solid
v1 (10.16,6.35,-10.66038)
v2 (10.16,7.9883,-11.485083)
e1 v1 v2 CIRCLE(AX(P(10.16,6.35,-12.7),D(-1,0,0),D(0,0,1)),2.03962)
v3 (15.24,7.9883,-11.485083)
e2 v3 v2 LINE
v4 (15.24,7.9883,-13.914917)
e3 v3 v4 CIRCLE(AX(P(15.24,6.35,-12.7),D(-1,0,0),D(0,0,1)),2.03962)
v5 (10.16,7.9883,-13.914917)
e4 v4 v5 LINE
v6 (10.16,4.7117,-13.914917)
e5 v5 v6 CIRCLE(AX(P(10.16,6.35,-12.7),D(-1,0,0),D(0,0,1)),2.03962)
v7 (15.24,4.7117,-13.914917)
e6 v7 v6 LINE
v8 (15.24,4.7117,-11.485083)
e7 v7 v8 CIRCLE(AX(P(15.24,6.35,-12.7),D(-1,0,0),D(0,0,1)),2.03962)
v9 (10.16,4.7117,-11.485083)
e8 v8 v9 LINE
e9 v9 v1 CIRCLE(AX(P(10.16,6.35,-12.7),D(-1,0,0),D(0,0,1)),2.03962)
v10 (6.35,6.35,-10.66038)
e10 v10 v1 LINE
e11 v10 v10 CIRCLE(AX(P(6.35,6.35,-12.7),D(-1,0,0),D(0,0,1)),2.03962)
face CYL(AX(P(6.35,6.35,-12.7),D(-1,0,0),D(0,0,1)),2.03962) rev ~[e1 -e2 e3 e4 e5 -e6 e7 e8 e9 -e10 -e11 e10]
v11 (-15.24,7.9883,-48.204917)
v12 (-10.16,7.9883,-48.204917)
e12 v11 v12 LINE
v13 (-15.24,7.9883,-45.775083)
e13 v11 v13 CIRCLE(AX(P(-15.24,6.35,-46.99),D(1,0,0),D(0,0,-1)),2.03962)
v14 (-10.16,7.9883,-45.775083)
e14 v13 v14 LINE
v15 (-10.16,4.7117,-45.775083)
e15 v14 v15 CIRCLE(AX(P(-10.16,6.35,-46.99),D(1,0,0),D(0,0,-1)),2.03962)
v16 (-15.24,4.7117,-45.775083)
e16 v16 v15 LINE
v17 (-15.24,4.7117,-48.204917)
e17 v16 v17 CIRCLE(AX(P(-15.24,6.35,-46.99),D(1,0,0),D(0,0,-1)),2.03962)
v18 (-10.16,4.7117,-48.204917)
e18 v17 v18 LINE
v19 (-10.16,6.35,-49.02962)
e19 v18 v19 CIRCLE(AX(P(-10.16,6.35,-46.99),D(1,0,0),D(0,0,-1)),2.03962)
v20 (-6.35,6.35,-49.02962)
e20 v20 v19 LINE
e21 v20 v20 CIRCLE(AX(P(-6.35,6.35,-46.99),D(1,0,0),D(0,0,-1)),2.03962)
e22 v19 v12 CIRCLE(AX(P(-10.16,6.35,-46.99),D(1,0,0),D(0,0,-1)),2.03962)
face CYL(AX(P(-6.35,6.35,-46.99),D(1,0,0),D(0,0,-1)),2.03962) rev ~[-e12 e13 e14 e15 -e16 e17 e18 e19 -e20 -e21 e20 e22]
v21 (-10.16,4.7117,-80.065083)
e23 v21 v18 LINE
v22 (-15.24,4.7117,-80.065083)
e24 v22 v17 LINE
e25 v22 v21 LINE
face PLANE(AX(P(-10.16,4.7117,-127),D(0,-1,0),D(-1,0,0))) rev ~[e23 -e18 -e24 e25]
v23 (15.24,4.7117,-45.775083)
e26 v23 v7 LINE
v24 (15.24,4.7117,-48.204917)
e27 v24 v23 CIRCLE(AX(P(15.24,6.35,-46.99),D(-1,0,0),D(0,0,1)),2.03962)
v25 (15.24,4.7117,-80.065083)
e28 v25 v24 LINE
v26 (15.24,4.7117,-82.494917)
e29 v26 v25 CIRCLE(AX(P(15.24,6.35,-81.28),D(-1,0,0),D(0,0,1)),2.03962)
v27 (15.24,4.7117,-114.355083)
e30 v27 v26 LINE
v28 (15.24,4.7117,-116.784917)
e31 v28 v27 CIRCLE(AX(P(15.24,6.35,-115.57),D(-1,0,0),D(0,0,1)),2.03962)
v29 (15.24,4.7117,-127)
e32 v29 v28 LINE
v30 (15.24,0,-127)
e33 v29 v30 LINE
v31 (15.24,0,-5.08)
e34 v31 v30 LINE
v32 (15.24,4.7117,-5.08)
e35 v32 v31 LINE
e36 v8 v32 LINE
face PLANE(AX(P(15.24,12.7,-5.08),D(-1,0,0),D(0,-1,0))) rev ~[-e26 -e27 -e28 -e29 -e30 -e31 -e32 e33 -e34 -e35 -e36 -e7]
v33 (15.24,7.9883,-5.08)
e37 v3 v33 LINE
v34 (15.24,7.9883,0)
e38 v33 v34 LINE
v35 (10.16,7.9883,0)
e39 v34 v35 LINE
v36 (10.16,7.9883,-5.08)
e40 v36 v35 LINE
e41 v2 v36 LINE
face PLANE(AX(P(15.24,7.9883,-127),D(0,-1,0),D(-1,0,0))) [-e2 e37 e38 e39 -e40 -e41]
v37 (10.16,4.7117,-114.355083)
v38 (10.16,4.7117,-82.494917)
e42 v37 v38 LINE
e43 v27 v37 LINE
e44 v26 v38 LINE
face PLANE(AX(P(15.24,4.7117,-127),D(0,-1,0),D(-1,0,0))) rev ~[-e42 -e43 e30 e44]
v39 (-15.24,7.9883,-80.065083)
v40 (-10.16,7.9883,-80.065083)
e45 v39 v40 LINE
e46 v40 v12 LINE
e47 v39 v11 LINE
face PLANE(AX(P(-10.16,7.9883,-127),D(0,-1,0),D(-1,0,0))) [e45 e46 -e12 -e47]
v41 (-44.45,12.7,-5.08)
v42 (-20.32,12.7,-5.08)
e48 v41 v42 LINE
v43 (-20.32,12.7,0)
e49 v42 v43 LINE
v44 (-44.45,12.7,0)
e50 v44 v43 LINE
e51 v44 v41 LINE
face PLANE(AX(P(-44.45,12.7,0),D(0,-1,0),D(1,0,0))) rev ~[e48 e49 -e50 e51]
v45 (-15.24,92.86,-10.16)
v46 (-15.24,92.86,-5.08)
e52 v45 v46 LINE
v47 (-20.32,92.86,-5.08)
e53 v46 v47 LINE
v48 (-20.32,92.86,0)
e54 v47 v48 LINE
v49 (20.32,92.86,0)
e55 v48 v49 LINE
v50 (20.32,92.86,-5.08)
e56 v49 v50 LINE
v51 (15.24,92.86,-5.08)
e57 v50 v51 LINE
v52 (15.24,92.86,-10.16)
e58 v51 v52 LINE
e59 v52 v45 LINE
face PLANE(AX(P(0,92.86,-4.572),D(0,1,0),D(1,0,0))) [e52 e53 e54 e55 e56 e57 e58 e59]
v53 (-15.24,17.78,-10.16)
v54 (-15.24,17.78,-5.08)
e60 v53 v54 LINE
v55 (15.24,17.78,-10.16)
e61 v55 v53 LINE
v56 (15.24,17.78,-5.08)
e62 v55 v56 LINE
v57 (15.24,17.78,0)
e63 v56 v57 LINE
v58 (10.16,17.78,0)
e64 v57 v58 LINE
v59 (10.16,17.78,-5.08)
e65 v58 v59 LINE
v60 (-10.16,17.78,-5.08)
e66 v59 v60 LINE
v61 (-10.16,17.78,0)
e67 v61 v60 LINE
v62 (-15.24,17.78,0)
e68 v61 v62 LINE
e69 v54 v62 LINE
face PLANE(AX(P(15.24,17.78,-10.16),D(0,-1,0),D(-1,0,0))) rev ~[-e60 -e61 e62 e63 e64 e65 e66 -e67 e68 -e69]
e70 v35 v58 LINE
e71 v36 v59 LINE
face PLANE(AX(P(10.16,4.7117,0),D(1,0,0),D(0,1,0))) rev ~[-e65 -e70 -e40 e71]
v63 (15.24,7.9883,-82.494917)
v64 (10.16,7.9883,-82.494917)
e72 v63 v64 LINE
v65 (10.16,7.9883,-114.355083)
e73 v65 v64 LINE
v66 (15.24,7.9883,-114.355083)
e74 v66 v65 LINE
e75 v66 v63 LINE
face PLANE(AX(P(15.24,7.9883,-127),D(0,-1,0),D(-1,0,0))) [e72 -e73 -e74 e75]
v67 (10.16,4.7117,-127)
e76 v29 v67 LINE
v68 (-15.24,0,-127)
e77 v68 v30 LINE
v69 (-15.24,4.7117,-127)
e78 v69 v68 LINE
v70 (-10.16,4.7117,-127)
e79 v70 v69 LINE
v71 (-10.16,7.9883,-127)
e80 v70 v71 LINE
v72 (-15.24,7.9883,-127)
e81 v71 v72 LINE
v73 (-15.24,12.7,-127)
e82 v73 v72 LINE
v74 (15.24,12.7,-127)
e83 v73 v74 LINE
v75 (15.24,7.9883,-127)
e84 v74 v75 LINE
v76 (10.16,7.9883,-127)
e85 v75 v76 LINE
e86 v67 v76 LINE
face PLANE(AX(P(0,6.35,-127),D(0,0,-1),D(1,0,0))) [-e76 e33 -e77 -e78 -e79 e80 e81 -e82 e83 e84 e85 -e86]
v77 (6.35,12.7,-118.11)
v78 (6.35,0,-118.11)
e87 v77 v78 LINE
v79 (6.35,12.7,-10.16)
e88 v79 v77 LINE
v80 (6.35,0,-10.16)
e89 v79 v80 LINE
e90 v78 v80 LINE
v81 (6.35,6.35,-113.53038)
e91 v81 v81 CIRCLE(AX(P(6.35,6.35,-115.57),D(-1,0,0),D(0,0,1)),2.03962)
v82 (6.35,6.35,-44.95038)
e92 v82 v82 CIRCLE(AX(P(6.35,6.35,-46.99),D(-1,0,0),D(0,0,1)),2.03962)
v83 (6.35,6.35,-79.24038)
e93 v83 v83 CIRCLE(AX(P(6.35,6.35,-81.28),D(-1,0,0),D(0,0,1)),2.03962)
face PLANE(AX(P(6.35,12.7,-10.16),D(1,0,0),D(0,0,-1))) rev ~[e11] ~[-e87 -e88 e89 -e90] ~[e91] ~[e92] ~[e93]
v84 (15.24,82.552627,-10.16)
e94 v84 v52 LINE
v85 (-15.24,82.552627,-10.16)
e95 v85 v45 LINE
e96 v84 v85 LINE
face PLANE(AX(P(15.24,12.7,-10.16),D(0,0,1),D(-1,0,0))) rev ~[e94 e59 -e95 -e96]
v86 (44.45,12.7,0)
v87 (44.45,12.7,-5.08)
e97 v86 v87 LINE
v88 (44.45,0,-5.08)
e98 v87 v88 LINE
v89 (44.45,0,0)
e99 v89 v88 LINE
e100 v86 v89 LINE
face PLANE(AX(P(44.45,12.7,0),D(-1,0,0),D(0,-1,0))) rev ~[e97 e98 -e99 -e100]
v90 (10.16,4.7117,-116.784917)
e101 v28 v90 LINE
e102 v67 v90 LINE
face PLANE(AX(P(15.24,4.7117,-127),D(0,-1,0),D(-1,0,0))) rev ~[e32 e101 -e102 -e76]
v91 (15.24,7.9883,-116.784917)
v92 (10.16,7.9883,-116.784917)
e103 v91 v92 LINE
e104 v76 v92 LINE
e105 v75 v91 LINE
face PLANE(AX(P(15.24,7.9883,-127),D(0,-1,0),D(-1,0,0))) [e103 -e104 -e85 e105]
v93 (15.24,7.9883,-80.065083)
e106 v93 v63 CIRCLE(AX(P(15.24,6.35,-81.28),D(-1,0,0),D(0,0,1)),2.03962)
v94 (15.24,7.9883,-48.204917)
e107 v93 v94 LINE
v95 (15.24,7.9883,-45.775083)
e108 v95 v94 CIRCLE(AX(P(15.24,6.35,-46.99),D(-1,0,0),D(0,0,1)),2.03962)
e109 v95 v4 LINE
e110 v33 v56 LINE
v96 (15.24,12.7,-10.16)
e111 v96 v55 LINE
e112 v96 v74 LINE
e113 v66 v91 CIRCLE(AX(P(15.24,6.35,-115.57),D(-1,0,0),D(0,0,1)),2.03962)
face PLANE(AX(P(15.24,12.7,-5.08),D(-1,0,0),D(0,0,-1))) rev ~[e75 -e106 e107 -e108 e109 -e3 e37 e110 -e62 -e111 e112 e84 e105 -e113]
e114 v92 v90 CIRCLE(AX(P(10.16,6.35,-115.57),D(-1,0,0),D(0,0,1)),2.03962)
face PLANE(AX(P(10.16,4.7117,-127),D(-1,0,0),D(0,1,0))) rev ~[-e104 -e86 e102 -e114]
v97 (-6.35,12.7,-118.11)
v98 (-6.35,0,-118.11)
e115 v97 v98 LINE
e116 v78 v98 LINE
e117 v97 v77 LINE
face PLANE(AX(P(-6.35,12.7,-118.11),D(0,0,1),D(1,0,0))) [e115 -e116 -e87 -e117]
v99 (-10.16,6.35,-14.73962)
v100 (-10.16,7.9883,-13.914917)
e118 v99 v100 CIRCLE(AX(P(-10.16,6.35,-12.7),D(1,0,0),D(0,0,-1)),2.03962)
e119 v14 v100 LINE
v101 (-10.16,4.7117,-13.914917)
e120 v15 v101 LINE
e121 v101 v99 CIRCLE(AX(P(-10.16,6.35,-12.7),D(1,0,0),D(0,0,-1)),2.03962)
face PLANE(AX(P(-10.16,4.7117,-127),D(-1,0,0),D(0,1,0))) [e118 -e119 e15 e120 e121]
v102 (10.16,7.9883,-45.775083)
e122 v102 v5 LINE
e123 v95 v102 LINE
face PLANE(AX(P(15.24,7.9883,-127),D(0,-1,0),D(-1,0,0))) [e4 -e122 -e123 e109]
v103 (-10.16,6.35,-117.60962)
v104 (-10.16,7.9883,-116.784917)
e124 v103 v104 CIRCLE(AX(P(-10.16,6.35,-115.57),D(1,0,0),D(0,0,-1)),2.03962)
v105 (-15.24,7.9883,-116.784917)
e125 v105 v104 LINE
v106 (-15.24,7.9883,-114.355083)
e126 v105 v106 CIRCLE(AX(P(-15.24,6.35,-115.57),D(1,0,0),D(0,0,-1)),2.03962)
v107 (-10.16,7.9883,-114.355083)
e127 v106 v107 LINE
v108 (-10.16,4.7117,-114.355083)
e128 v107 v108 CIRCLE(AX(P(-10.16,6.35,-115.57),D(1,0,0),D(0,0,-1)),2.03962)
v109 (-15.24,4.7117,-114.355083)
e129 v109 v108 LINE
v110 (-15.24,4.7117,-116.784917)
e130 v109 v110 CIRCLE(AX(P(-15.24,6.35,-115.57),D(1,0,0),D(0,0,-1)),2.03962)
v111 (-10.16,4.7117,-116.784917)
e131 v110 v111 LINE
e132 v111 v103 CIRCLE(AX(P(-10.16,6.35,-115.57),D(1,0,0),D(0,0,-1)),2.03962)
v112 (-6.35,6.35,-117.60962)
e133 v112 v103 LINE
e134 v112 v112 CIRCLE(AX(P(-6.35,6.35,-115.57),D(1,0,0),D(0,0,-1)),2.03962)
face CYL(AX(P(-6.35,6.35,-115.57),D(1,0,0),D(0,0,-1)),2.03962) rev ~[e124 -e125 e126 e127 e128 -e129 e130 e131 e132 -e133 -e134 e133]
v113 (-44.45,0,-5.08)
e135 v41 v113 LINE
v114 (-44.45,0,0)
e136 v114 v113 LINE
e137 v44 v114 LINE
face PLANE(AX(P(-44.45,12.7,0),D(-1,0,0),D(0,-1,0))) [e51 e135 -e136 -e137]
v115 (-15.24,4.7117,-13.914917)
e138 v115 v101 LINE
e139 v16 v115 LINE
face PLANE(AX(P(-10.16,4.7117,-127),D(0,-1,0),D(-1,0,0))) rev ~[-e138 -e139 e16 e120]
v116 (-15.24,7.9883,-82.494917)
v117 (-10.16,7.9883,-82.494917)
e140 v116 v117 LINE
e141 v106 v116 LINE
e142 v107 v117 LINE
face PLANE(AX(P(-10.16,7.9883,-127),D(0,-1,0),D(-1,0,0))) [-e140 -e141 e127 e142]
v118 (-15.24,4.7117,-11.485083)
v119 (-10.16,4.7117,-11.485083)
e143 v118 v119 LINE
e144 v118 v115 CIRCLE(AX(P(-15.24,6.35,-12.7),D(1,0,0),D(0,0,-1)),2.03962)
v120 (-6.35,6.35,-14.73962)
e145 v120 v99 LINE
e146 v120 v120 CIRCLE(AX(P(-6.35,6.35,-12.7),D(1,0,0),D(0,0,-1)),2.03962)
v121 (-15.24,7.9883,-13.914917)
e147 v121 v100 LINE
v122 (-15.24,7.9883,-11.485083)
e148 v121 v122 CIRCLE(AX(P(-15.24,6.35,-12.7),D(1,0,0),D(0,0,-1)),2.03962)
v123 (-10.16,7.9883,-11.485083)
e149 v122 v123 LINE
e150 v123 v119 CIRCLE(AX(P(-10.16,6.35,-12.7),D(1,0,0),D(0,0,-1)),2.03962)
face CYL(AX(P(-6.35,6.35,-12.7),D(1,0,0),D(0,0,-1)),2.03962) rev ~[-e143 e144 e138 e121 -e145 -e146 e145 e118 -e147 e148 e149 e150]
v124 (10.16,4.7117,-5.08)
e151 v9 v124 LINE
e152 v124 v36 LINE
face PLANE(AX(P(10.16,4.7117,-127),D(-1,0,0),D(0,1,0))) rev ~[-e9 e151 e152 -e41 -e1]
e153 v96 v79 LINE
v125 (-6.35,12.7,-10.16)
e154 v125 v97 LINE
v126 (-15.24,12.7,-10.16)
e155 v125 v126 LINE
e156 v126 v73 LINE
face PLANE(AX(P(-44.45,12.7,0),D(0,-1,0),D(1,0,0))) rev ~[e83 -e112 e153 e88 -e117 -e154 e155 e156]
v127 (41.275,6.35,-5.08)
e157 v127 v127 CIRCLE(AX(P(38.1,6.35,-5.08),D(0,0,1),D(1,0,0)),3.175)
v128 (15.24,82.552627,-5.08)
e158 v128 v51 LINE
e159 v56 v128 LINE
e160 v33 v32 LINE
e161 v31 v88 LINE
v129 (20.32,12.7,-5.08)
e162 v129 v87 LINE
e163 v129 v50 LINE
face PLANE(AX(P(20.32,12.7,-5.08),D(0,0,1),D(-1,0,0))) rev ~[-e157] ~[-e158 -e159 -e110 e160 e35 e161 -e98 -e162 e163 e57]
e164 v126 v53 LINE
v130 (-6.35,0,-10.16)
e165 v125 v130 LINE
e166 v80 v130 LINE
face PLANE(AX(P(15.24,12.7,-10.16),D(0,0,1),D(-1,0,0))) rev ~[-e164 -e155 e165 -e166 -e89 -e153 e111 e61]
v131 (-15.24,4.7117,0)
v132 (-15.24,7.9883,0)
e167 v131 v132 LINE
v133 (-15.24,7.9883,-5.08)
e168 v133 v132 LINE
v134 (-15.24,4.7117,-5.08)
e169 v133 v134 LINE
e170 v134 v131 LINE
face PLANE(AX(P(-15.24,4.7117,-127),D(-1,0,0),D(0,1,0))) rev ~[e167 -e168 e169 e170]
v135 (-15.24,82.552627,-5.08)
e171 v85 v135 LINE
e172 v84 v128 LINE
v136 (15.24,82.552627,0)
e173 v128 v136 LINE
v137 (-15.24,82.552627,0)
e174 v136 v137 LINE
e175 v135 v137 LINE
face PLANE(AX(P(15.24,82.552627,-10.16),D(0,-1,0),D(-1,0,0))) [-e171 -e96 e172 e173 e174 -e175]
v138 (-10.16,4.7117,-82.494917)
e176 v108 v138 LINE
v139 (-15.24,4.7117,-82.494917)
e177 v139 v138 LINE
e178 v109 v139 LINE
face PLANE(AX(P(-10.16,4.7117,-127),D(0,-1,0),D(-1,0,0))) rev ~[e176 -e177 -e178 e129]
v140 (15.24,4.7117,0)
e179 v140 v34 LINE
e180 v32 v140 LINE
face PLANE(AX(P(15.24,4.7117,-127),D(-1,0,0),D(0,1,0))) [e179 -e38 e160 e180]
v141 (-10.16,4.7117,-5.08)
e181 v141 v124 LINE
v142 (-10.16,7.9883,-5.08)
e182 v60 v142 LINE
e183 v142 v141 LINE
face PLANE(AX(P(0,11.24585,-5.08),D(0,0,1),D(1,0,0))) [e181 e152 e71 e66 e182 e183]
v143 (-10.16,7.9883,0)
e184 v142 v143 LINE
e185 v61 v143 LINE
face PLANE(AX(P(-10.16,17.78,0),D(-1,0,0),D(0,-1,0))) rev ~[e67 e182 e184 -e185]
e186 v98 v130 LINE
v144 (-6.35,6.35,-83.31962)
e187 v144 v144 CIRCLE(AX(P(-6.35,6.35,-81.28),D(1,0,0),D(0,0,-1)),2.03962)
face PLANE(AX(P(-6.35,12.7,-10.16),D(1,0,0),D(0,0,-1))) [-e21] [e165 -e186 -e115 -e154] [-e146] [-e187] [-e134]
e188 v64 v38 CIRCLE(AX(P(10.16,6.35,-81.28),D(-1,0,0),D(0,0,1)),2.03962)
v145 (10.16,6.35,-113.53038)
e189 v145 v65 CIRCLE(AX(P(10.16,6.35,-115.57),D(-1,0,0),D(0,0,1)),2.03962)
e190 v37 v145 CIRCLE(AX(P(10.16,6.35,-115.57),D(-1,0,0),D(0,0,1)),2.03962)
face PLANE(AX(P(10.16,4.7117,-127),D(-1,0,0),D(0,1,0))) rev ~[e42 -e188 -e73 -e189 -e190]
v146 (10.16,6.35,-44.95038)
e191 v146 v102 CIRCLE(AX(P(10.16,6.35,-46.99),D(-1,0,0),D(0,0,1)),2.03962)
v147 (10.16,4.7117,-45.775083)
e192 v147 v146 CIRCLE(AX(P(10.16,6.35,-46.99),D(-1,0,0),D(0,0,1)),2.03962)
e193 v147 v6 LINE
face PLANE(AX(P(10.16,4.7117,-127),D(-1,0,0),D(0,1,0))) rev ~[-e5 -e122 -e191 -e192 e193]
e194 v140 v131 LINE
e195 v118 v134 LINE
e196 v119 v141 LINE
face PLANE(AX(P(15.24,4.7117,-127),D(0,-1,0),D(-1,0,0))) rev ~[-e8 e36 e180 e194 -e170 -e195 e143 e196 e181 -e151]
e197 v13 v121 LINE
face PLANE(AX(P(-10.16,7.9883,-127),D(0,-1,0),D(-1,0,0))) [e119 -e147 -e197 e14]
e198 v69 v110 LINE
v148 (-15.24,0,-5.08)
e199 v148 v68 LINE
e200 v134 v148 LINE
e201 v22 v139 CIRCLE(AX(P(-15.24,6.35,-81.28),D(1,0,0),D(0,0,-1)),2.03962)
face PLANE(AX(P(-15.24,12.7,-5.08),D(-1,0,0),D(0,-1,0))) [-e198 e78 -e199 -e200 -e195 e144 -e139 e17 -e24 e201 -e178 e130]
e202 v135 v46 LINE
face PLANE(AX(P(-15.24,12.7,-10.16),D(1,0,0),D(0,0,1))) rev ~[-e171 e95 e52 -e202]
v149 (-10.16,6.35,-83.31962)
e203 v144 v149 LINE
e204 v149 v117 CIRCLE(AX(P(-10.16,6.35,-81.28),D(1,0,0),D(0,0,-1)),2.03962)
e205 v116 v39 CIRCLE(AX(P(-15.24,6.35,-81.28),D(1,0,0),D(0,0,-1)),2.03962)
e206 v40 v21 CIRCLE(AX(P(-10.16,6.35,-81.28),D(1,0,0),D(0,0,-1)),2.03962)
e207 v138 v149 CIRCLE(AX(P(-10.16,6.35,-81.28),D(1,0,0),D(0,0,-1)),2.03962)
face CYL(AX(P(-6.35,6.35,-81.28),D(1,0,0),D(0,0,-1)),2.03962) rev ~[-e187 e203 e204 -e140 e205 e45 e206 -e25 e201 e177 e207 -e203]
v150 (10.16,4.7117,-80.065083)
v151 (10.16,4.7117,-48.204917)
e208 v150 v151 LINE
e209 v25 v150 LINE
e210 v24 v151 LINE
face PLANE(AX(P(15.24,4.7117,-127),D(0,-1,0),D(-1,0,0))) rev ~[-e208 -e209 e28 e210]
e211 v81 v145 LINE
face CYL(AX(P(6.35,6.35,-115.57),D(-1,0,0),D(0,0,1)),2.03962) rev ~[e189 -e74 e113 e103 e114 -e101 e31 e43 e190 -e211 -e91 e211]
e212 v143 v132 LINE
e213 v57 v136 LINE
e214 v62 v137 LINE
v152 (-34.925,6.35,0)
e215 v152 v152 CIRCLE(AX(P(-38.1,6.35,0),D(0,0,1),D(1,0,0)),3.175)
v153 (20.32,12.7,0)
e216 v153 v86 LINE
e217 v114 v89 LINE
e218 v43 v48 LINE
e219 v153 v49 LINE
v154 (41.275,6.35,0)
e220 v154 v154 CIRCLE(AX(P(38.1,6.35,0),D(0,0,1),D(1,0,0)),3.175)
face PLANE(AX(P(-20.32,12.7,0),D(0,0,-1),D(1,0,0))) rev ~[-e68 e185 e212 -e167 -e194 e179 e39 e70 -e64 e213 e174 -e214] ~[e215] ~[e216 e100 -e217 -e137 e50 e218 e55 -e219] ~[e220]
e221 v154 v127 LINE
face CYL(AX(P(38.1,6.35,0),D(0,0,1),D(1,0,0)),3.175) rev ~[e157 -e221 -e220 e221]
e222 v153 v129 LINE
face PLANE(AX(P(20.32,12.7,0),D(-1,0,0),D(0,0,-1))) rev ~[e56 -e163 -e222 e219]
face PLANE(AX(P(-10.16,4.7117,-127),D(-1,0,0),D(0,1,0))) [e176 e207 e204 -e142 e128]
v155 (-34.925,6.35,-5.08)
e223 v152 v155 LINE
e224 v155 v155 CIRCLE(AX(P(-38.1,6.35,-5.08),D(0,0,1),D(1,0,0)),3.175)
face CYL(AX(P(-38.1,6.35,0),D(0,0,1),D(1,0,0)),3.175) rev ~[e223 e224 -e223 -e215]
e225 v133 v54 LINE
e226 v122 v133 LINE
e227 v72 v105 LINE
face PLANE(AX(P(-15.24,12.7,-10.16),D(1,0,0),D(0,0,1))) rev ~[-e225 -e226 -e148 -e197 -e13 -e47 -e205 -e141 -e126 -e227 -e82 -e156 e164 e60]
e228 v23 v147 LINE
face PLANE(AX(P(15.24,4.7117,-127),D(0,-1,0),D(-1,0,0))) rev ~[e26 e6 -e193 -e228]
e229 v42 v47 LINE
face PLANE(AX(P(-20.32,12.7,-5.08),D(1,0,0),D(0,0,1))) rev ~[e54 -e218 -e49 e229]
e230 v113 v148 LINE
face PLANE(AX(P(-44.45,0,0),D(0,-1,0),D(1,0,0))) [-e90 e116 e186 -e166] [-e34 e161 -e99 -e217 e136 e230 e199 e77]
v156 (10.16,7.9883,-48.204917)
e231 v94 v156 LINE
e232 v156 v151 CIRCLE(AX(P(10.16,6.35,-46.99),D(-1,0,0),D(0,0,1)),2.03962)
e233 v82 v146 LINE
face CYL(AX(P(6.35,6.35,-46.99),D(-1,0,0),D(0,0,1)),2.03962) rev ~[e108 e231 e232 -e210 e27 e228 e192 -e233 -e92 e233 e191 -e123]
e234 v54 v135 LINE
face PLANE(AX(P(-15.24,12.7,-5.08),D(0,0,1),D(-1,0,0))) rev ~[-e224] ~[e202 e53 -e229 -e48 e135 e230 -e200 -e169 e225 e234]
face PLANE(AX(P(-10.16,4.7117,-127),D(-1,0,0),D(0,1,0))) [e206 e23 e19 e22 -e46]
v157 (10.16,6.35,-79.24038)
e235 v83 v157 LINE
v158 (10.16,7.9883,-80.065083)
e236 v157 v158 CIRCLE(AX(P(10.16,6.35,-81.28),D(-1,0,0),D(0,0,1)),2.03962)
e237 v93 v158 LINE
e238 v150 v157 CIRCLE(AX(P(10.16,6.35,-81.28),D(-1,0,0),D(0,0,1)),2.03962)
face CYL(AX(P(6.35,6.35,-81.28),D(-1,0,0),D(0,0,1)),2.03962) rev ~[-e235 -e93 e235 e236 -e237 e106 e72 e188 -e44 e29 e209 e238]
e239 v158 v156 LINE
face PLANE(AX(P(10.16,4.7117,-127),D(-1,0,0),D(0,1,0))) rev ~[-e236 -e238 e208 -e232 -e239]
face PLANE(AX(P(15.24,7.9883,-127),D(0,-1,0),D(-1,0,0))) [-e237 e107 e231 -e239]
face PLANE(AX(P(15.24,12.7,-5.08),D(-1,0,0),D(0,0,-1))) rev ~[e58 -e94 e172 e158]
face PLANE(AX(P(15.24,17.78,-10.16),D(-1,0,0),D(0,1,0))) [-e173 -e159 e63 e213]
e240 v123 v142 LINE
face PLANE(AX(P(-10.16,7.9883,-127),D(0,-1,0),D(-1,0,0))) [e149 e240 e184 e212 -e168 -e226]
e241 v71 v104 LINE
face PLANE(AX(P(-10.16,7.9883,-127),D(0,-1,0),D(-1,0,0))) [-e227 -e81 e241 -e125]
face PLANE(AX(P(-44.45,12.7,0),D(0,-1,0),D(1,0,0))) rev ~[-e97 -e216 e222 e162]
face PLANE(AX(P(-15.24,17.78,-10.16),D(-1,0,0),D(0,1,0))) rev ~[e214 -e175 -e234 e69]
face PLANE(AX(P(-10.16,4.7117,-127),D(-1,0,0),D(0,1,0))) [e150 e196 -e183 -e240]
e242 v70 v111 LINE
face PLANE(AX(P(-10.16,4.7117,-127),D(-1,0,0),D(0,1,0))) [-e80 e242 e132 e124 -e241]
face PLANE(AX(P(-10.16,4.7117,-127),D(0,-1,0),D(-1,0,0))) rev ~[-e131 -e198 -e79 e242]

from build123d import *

# Parameters (mm, degrees)
SKETCH1_W                     = 88.9
SKETCH1_H                     = 12.7
SMALL_BASE_EXTRUDE_DEPTH      = 5.08
SKETCH3_W                     = 30.48
SKETCH3_H                     = 12.7
MAIN_TOWER_EXTRUDE_DEPTH      = 121.92
SKETCH4_W                     = 12.7
SKETCH4_H                     = 107.95
FILAMENT_CHANNEL_CUT_DEPTH    = 13.7
SKETCH6_R                     = 2.03962
CUT_EXTRUDE3_DEPTH            = 8.89
LPATTERN1_COUNT               = 4
LPATTERN1_PITCH               = 34.29
SKETCH9_R                     = 2.03962
CUT_EXTRUDE6_DEPTH            = 8.89
LPATTERN2_COUNT               = 4
LPATTERN2_PITCH               = 34.29
SKETCH10_W                    = 5.08
SKETCH10_H                    = 3.2766
WIRE_CHANNEL_CUT_DEPTH        = 228.6
SKETCH11_R                    = 3.175
MOUNTING_BOLT_HOLE_CUTS_DEPTH = 25.4
COPPER_BOARD_EXTRUDE_DEPTH    = 80.16
SKETCH13_W                    = 30.48
SKETCH13_H                    = 64.772627344
COPPER_BOARD_CUT_DEPTH        = 10.16
WIRE_ESCAPE_HOLE_CUT_DEPTH    = 5.08


with BuildPart() as part:
    # Sketch1 → Small Base Extrude (new body)
    with BuildSketch(Plane(origin=(0, 0, 0), x_dir=(1, 0, 0), z_dir=(0, 0, -1))):
        with Locations((0, -6.35)):
            Rectangle(SKETCH1_W, SKETCH1_H)
    extrude(amount=SMALL_BASE_EXTRUDE_DEPTH)

    # Sketch3 → Main Tower Extrude (add)
    with BuildSketch(Plane(origin=(0, 0, -5.08), x_dir=(1, 0, 0), z_dir=(0, 0, -1))):
        with Locations((0, -6.35)):
            Rectangle(SKETCH3_W, SKETCH3_H)
    extrude(amount=MAIN_TOWER_EXTRUDE_DEPTH)

    # Sketch4 → Filament Channel Cut (cut, through all)
    with BuildSketch(Plane(origin=(0, 12.7, 0), x_dir=(1, 0, 0), z_dir=(0, 1, 0))):
        with Locations((0, 64.135)):
            Rectangle(SKETCH4_W, SKETCH4_H)
    extrude(amount=-FILAMENT_CHANNEL_CUT_DEPTH, mode=Mode.SUBTRACT)

    # Sketch6 → Cut-Extrude3 (cut)
    with BuildSketch(Plane(origin=(-6.35, 0, 0), x_dir=(0, 0, -1), z_dir=(1, 0, 0))):
        with Locations((12.7, 6.35)):
            Circle(SKETCH6_R)
    cut_extrude3 = extrude(amount=-CUT_EXTRUDE3_DEPTH, mode=Mode.SUBTRACT)

    # LPattern1: Cut-Extrude3 ×4
    with Locations(*[(0, 0, -i * LPATTERN1_PITCH) for i in range(1, LPATTERN1_COUNT)]):
        add(cut_extrude3, mode=Mode.SUBTRACT)

    # Sketch9 → Cut-Extrude6 (cut)
    with BuildSketch(Plane(origin=(6.35, 57.001874069, -16.025022356), x_dir=(0, 0, 1), z_dir=(-1, 0, 0))):
        with Locations((3.325022356, -50.651874069)):
            Circle(SKETCH9_R)
    cut_extrude6 = extrude(amount=-CUT_EXTRUDE6_DEPTH, mode=Mode.SUBTRACT)

    # LPattern2: Cut-Extrude6 ×4
    with Locations(*[(0, 0, -i * LPATTERN2_PITCH) for i in range(1, LPATTERN2_COUNT)]):
        add(cut_extrude6, mode=Mode.SUBTRACT)

    # Sketch10 → Wire Channel Cut (cut)
    with BuildSketch(Plane(origin=(0, 0, -127), x_dir=(-1, 0, 0), z_dir=(0, 0, -1))):
        with Locations((12.7, 6.35)):
            Rectangle(SKETCH10_W, SKETCH10_H)
        with Locations((-12.7, 6.35)):
            Rectangle(SKETCH10_W, SKETCH10_H)
    extrude(amount=-WIRE_CHANNEL_CUT_DEPTH, mode=Mode.SUBTRACT)

    # Sketch11 → Mounting Bolt Hole Cuts (cut)
    with BuildSketch(Plane.XY):
        with Locations((38.1, 6.35)):
            Circle(SKETCH11_R)
        with Locations((-38.1, 6.35)):
            Circle(SKETCH11_R)
    extrude(amount=-MOUNTING_BOLT_HOLE_CUTS_DEPTH, mode=Mode.SUBTRACT)

    # Sketch12 → Copper Board Extrude (add)
    with BuildSketch(Plane(origin=(0, 12.7, 0), x_dir=(1, 0, 0), z_dir=(0, 1, 0))):
        Polygon((-15.24, 0), (15.24, 0), (20.32, 0), (20.32, 5.08), (15.24, 5.08), (15.24, 10.16), (-15.24, 10.16), (-15.24, 5.08), (-20.32, 5.08), (-20.32, 0), align=None)
    extrude(amount=COPPER_BOARD_EXTRUDE_DEPTH)

    # Sketch13 → Copper Board Cut (cut)
    with BuildSketch(Plane(origin=(0, 0, -10.16), x_dir=(-1, 0, 0), z_dir=(0, 0, -1))):
        with Locations((0, 50.166313672)):
            Rectangle(SKETCH13_W, SKETCH13_H)
    extrude(amount=-COPPER_BOARD_CUT_DEPTH, mode=Mode.SUBTRACT)

    # Sketch14 → Wire Escape Hole Cut (cut)
    with BuildSketch(Plane.XY):
        Polygon((-10.16, 4.7117), (10.16, 4.7117), (10.16, 7.9883), (10.16, 17.78), (-10.16, 17.78), (-10.16, 6.0833), align=None)
    extrude(amount=-WIRE_ESCAPE_HOLE_CUT_DEPTH, mode=Mode.SUBTRACT)


solid = part.part
